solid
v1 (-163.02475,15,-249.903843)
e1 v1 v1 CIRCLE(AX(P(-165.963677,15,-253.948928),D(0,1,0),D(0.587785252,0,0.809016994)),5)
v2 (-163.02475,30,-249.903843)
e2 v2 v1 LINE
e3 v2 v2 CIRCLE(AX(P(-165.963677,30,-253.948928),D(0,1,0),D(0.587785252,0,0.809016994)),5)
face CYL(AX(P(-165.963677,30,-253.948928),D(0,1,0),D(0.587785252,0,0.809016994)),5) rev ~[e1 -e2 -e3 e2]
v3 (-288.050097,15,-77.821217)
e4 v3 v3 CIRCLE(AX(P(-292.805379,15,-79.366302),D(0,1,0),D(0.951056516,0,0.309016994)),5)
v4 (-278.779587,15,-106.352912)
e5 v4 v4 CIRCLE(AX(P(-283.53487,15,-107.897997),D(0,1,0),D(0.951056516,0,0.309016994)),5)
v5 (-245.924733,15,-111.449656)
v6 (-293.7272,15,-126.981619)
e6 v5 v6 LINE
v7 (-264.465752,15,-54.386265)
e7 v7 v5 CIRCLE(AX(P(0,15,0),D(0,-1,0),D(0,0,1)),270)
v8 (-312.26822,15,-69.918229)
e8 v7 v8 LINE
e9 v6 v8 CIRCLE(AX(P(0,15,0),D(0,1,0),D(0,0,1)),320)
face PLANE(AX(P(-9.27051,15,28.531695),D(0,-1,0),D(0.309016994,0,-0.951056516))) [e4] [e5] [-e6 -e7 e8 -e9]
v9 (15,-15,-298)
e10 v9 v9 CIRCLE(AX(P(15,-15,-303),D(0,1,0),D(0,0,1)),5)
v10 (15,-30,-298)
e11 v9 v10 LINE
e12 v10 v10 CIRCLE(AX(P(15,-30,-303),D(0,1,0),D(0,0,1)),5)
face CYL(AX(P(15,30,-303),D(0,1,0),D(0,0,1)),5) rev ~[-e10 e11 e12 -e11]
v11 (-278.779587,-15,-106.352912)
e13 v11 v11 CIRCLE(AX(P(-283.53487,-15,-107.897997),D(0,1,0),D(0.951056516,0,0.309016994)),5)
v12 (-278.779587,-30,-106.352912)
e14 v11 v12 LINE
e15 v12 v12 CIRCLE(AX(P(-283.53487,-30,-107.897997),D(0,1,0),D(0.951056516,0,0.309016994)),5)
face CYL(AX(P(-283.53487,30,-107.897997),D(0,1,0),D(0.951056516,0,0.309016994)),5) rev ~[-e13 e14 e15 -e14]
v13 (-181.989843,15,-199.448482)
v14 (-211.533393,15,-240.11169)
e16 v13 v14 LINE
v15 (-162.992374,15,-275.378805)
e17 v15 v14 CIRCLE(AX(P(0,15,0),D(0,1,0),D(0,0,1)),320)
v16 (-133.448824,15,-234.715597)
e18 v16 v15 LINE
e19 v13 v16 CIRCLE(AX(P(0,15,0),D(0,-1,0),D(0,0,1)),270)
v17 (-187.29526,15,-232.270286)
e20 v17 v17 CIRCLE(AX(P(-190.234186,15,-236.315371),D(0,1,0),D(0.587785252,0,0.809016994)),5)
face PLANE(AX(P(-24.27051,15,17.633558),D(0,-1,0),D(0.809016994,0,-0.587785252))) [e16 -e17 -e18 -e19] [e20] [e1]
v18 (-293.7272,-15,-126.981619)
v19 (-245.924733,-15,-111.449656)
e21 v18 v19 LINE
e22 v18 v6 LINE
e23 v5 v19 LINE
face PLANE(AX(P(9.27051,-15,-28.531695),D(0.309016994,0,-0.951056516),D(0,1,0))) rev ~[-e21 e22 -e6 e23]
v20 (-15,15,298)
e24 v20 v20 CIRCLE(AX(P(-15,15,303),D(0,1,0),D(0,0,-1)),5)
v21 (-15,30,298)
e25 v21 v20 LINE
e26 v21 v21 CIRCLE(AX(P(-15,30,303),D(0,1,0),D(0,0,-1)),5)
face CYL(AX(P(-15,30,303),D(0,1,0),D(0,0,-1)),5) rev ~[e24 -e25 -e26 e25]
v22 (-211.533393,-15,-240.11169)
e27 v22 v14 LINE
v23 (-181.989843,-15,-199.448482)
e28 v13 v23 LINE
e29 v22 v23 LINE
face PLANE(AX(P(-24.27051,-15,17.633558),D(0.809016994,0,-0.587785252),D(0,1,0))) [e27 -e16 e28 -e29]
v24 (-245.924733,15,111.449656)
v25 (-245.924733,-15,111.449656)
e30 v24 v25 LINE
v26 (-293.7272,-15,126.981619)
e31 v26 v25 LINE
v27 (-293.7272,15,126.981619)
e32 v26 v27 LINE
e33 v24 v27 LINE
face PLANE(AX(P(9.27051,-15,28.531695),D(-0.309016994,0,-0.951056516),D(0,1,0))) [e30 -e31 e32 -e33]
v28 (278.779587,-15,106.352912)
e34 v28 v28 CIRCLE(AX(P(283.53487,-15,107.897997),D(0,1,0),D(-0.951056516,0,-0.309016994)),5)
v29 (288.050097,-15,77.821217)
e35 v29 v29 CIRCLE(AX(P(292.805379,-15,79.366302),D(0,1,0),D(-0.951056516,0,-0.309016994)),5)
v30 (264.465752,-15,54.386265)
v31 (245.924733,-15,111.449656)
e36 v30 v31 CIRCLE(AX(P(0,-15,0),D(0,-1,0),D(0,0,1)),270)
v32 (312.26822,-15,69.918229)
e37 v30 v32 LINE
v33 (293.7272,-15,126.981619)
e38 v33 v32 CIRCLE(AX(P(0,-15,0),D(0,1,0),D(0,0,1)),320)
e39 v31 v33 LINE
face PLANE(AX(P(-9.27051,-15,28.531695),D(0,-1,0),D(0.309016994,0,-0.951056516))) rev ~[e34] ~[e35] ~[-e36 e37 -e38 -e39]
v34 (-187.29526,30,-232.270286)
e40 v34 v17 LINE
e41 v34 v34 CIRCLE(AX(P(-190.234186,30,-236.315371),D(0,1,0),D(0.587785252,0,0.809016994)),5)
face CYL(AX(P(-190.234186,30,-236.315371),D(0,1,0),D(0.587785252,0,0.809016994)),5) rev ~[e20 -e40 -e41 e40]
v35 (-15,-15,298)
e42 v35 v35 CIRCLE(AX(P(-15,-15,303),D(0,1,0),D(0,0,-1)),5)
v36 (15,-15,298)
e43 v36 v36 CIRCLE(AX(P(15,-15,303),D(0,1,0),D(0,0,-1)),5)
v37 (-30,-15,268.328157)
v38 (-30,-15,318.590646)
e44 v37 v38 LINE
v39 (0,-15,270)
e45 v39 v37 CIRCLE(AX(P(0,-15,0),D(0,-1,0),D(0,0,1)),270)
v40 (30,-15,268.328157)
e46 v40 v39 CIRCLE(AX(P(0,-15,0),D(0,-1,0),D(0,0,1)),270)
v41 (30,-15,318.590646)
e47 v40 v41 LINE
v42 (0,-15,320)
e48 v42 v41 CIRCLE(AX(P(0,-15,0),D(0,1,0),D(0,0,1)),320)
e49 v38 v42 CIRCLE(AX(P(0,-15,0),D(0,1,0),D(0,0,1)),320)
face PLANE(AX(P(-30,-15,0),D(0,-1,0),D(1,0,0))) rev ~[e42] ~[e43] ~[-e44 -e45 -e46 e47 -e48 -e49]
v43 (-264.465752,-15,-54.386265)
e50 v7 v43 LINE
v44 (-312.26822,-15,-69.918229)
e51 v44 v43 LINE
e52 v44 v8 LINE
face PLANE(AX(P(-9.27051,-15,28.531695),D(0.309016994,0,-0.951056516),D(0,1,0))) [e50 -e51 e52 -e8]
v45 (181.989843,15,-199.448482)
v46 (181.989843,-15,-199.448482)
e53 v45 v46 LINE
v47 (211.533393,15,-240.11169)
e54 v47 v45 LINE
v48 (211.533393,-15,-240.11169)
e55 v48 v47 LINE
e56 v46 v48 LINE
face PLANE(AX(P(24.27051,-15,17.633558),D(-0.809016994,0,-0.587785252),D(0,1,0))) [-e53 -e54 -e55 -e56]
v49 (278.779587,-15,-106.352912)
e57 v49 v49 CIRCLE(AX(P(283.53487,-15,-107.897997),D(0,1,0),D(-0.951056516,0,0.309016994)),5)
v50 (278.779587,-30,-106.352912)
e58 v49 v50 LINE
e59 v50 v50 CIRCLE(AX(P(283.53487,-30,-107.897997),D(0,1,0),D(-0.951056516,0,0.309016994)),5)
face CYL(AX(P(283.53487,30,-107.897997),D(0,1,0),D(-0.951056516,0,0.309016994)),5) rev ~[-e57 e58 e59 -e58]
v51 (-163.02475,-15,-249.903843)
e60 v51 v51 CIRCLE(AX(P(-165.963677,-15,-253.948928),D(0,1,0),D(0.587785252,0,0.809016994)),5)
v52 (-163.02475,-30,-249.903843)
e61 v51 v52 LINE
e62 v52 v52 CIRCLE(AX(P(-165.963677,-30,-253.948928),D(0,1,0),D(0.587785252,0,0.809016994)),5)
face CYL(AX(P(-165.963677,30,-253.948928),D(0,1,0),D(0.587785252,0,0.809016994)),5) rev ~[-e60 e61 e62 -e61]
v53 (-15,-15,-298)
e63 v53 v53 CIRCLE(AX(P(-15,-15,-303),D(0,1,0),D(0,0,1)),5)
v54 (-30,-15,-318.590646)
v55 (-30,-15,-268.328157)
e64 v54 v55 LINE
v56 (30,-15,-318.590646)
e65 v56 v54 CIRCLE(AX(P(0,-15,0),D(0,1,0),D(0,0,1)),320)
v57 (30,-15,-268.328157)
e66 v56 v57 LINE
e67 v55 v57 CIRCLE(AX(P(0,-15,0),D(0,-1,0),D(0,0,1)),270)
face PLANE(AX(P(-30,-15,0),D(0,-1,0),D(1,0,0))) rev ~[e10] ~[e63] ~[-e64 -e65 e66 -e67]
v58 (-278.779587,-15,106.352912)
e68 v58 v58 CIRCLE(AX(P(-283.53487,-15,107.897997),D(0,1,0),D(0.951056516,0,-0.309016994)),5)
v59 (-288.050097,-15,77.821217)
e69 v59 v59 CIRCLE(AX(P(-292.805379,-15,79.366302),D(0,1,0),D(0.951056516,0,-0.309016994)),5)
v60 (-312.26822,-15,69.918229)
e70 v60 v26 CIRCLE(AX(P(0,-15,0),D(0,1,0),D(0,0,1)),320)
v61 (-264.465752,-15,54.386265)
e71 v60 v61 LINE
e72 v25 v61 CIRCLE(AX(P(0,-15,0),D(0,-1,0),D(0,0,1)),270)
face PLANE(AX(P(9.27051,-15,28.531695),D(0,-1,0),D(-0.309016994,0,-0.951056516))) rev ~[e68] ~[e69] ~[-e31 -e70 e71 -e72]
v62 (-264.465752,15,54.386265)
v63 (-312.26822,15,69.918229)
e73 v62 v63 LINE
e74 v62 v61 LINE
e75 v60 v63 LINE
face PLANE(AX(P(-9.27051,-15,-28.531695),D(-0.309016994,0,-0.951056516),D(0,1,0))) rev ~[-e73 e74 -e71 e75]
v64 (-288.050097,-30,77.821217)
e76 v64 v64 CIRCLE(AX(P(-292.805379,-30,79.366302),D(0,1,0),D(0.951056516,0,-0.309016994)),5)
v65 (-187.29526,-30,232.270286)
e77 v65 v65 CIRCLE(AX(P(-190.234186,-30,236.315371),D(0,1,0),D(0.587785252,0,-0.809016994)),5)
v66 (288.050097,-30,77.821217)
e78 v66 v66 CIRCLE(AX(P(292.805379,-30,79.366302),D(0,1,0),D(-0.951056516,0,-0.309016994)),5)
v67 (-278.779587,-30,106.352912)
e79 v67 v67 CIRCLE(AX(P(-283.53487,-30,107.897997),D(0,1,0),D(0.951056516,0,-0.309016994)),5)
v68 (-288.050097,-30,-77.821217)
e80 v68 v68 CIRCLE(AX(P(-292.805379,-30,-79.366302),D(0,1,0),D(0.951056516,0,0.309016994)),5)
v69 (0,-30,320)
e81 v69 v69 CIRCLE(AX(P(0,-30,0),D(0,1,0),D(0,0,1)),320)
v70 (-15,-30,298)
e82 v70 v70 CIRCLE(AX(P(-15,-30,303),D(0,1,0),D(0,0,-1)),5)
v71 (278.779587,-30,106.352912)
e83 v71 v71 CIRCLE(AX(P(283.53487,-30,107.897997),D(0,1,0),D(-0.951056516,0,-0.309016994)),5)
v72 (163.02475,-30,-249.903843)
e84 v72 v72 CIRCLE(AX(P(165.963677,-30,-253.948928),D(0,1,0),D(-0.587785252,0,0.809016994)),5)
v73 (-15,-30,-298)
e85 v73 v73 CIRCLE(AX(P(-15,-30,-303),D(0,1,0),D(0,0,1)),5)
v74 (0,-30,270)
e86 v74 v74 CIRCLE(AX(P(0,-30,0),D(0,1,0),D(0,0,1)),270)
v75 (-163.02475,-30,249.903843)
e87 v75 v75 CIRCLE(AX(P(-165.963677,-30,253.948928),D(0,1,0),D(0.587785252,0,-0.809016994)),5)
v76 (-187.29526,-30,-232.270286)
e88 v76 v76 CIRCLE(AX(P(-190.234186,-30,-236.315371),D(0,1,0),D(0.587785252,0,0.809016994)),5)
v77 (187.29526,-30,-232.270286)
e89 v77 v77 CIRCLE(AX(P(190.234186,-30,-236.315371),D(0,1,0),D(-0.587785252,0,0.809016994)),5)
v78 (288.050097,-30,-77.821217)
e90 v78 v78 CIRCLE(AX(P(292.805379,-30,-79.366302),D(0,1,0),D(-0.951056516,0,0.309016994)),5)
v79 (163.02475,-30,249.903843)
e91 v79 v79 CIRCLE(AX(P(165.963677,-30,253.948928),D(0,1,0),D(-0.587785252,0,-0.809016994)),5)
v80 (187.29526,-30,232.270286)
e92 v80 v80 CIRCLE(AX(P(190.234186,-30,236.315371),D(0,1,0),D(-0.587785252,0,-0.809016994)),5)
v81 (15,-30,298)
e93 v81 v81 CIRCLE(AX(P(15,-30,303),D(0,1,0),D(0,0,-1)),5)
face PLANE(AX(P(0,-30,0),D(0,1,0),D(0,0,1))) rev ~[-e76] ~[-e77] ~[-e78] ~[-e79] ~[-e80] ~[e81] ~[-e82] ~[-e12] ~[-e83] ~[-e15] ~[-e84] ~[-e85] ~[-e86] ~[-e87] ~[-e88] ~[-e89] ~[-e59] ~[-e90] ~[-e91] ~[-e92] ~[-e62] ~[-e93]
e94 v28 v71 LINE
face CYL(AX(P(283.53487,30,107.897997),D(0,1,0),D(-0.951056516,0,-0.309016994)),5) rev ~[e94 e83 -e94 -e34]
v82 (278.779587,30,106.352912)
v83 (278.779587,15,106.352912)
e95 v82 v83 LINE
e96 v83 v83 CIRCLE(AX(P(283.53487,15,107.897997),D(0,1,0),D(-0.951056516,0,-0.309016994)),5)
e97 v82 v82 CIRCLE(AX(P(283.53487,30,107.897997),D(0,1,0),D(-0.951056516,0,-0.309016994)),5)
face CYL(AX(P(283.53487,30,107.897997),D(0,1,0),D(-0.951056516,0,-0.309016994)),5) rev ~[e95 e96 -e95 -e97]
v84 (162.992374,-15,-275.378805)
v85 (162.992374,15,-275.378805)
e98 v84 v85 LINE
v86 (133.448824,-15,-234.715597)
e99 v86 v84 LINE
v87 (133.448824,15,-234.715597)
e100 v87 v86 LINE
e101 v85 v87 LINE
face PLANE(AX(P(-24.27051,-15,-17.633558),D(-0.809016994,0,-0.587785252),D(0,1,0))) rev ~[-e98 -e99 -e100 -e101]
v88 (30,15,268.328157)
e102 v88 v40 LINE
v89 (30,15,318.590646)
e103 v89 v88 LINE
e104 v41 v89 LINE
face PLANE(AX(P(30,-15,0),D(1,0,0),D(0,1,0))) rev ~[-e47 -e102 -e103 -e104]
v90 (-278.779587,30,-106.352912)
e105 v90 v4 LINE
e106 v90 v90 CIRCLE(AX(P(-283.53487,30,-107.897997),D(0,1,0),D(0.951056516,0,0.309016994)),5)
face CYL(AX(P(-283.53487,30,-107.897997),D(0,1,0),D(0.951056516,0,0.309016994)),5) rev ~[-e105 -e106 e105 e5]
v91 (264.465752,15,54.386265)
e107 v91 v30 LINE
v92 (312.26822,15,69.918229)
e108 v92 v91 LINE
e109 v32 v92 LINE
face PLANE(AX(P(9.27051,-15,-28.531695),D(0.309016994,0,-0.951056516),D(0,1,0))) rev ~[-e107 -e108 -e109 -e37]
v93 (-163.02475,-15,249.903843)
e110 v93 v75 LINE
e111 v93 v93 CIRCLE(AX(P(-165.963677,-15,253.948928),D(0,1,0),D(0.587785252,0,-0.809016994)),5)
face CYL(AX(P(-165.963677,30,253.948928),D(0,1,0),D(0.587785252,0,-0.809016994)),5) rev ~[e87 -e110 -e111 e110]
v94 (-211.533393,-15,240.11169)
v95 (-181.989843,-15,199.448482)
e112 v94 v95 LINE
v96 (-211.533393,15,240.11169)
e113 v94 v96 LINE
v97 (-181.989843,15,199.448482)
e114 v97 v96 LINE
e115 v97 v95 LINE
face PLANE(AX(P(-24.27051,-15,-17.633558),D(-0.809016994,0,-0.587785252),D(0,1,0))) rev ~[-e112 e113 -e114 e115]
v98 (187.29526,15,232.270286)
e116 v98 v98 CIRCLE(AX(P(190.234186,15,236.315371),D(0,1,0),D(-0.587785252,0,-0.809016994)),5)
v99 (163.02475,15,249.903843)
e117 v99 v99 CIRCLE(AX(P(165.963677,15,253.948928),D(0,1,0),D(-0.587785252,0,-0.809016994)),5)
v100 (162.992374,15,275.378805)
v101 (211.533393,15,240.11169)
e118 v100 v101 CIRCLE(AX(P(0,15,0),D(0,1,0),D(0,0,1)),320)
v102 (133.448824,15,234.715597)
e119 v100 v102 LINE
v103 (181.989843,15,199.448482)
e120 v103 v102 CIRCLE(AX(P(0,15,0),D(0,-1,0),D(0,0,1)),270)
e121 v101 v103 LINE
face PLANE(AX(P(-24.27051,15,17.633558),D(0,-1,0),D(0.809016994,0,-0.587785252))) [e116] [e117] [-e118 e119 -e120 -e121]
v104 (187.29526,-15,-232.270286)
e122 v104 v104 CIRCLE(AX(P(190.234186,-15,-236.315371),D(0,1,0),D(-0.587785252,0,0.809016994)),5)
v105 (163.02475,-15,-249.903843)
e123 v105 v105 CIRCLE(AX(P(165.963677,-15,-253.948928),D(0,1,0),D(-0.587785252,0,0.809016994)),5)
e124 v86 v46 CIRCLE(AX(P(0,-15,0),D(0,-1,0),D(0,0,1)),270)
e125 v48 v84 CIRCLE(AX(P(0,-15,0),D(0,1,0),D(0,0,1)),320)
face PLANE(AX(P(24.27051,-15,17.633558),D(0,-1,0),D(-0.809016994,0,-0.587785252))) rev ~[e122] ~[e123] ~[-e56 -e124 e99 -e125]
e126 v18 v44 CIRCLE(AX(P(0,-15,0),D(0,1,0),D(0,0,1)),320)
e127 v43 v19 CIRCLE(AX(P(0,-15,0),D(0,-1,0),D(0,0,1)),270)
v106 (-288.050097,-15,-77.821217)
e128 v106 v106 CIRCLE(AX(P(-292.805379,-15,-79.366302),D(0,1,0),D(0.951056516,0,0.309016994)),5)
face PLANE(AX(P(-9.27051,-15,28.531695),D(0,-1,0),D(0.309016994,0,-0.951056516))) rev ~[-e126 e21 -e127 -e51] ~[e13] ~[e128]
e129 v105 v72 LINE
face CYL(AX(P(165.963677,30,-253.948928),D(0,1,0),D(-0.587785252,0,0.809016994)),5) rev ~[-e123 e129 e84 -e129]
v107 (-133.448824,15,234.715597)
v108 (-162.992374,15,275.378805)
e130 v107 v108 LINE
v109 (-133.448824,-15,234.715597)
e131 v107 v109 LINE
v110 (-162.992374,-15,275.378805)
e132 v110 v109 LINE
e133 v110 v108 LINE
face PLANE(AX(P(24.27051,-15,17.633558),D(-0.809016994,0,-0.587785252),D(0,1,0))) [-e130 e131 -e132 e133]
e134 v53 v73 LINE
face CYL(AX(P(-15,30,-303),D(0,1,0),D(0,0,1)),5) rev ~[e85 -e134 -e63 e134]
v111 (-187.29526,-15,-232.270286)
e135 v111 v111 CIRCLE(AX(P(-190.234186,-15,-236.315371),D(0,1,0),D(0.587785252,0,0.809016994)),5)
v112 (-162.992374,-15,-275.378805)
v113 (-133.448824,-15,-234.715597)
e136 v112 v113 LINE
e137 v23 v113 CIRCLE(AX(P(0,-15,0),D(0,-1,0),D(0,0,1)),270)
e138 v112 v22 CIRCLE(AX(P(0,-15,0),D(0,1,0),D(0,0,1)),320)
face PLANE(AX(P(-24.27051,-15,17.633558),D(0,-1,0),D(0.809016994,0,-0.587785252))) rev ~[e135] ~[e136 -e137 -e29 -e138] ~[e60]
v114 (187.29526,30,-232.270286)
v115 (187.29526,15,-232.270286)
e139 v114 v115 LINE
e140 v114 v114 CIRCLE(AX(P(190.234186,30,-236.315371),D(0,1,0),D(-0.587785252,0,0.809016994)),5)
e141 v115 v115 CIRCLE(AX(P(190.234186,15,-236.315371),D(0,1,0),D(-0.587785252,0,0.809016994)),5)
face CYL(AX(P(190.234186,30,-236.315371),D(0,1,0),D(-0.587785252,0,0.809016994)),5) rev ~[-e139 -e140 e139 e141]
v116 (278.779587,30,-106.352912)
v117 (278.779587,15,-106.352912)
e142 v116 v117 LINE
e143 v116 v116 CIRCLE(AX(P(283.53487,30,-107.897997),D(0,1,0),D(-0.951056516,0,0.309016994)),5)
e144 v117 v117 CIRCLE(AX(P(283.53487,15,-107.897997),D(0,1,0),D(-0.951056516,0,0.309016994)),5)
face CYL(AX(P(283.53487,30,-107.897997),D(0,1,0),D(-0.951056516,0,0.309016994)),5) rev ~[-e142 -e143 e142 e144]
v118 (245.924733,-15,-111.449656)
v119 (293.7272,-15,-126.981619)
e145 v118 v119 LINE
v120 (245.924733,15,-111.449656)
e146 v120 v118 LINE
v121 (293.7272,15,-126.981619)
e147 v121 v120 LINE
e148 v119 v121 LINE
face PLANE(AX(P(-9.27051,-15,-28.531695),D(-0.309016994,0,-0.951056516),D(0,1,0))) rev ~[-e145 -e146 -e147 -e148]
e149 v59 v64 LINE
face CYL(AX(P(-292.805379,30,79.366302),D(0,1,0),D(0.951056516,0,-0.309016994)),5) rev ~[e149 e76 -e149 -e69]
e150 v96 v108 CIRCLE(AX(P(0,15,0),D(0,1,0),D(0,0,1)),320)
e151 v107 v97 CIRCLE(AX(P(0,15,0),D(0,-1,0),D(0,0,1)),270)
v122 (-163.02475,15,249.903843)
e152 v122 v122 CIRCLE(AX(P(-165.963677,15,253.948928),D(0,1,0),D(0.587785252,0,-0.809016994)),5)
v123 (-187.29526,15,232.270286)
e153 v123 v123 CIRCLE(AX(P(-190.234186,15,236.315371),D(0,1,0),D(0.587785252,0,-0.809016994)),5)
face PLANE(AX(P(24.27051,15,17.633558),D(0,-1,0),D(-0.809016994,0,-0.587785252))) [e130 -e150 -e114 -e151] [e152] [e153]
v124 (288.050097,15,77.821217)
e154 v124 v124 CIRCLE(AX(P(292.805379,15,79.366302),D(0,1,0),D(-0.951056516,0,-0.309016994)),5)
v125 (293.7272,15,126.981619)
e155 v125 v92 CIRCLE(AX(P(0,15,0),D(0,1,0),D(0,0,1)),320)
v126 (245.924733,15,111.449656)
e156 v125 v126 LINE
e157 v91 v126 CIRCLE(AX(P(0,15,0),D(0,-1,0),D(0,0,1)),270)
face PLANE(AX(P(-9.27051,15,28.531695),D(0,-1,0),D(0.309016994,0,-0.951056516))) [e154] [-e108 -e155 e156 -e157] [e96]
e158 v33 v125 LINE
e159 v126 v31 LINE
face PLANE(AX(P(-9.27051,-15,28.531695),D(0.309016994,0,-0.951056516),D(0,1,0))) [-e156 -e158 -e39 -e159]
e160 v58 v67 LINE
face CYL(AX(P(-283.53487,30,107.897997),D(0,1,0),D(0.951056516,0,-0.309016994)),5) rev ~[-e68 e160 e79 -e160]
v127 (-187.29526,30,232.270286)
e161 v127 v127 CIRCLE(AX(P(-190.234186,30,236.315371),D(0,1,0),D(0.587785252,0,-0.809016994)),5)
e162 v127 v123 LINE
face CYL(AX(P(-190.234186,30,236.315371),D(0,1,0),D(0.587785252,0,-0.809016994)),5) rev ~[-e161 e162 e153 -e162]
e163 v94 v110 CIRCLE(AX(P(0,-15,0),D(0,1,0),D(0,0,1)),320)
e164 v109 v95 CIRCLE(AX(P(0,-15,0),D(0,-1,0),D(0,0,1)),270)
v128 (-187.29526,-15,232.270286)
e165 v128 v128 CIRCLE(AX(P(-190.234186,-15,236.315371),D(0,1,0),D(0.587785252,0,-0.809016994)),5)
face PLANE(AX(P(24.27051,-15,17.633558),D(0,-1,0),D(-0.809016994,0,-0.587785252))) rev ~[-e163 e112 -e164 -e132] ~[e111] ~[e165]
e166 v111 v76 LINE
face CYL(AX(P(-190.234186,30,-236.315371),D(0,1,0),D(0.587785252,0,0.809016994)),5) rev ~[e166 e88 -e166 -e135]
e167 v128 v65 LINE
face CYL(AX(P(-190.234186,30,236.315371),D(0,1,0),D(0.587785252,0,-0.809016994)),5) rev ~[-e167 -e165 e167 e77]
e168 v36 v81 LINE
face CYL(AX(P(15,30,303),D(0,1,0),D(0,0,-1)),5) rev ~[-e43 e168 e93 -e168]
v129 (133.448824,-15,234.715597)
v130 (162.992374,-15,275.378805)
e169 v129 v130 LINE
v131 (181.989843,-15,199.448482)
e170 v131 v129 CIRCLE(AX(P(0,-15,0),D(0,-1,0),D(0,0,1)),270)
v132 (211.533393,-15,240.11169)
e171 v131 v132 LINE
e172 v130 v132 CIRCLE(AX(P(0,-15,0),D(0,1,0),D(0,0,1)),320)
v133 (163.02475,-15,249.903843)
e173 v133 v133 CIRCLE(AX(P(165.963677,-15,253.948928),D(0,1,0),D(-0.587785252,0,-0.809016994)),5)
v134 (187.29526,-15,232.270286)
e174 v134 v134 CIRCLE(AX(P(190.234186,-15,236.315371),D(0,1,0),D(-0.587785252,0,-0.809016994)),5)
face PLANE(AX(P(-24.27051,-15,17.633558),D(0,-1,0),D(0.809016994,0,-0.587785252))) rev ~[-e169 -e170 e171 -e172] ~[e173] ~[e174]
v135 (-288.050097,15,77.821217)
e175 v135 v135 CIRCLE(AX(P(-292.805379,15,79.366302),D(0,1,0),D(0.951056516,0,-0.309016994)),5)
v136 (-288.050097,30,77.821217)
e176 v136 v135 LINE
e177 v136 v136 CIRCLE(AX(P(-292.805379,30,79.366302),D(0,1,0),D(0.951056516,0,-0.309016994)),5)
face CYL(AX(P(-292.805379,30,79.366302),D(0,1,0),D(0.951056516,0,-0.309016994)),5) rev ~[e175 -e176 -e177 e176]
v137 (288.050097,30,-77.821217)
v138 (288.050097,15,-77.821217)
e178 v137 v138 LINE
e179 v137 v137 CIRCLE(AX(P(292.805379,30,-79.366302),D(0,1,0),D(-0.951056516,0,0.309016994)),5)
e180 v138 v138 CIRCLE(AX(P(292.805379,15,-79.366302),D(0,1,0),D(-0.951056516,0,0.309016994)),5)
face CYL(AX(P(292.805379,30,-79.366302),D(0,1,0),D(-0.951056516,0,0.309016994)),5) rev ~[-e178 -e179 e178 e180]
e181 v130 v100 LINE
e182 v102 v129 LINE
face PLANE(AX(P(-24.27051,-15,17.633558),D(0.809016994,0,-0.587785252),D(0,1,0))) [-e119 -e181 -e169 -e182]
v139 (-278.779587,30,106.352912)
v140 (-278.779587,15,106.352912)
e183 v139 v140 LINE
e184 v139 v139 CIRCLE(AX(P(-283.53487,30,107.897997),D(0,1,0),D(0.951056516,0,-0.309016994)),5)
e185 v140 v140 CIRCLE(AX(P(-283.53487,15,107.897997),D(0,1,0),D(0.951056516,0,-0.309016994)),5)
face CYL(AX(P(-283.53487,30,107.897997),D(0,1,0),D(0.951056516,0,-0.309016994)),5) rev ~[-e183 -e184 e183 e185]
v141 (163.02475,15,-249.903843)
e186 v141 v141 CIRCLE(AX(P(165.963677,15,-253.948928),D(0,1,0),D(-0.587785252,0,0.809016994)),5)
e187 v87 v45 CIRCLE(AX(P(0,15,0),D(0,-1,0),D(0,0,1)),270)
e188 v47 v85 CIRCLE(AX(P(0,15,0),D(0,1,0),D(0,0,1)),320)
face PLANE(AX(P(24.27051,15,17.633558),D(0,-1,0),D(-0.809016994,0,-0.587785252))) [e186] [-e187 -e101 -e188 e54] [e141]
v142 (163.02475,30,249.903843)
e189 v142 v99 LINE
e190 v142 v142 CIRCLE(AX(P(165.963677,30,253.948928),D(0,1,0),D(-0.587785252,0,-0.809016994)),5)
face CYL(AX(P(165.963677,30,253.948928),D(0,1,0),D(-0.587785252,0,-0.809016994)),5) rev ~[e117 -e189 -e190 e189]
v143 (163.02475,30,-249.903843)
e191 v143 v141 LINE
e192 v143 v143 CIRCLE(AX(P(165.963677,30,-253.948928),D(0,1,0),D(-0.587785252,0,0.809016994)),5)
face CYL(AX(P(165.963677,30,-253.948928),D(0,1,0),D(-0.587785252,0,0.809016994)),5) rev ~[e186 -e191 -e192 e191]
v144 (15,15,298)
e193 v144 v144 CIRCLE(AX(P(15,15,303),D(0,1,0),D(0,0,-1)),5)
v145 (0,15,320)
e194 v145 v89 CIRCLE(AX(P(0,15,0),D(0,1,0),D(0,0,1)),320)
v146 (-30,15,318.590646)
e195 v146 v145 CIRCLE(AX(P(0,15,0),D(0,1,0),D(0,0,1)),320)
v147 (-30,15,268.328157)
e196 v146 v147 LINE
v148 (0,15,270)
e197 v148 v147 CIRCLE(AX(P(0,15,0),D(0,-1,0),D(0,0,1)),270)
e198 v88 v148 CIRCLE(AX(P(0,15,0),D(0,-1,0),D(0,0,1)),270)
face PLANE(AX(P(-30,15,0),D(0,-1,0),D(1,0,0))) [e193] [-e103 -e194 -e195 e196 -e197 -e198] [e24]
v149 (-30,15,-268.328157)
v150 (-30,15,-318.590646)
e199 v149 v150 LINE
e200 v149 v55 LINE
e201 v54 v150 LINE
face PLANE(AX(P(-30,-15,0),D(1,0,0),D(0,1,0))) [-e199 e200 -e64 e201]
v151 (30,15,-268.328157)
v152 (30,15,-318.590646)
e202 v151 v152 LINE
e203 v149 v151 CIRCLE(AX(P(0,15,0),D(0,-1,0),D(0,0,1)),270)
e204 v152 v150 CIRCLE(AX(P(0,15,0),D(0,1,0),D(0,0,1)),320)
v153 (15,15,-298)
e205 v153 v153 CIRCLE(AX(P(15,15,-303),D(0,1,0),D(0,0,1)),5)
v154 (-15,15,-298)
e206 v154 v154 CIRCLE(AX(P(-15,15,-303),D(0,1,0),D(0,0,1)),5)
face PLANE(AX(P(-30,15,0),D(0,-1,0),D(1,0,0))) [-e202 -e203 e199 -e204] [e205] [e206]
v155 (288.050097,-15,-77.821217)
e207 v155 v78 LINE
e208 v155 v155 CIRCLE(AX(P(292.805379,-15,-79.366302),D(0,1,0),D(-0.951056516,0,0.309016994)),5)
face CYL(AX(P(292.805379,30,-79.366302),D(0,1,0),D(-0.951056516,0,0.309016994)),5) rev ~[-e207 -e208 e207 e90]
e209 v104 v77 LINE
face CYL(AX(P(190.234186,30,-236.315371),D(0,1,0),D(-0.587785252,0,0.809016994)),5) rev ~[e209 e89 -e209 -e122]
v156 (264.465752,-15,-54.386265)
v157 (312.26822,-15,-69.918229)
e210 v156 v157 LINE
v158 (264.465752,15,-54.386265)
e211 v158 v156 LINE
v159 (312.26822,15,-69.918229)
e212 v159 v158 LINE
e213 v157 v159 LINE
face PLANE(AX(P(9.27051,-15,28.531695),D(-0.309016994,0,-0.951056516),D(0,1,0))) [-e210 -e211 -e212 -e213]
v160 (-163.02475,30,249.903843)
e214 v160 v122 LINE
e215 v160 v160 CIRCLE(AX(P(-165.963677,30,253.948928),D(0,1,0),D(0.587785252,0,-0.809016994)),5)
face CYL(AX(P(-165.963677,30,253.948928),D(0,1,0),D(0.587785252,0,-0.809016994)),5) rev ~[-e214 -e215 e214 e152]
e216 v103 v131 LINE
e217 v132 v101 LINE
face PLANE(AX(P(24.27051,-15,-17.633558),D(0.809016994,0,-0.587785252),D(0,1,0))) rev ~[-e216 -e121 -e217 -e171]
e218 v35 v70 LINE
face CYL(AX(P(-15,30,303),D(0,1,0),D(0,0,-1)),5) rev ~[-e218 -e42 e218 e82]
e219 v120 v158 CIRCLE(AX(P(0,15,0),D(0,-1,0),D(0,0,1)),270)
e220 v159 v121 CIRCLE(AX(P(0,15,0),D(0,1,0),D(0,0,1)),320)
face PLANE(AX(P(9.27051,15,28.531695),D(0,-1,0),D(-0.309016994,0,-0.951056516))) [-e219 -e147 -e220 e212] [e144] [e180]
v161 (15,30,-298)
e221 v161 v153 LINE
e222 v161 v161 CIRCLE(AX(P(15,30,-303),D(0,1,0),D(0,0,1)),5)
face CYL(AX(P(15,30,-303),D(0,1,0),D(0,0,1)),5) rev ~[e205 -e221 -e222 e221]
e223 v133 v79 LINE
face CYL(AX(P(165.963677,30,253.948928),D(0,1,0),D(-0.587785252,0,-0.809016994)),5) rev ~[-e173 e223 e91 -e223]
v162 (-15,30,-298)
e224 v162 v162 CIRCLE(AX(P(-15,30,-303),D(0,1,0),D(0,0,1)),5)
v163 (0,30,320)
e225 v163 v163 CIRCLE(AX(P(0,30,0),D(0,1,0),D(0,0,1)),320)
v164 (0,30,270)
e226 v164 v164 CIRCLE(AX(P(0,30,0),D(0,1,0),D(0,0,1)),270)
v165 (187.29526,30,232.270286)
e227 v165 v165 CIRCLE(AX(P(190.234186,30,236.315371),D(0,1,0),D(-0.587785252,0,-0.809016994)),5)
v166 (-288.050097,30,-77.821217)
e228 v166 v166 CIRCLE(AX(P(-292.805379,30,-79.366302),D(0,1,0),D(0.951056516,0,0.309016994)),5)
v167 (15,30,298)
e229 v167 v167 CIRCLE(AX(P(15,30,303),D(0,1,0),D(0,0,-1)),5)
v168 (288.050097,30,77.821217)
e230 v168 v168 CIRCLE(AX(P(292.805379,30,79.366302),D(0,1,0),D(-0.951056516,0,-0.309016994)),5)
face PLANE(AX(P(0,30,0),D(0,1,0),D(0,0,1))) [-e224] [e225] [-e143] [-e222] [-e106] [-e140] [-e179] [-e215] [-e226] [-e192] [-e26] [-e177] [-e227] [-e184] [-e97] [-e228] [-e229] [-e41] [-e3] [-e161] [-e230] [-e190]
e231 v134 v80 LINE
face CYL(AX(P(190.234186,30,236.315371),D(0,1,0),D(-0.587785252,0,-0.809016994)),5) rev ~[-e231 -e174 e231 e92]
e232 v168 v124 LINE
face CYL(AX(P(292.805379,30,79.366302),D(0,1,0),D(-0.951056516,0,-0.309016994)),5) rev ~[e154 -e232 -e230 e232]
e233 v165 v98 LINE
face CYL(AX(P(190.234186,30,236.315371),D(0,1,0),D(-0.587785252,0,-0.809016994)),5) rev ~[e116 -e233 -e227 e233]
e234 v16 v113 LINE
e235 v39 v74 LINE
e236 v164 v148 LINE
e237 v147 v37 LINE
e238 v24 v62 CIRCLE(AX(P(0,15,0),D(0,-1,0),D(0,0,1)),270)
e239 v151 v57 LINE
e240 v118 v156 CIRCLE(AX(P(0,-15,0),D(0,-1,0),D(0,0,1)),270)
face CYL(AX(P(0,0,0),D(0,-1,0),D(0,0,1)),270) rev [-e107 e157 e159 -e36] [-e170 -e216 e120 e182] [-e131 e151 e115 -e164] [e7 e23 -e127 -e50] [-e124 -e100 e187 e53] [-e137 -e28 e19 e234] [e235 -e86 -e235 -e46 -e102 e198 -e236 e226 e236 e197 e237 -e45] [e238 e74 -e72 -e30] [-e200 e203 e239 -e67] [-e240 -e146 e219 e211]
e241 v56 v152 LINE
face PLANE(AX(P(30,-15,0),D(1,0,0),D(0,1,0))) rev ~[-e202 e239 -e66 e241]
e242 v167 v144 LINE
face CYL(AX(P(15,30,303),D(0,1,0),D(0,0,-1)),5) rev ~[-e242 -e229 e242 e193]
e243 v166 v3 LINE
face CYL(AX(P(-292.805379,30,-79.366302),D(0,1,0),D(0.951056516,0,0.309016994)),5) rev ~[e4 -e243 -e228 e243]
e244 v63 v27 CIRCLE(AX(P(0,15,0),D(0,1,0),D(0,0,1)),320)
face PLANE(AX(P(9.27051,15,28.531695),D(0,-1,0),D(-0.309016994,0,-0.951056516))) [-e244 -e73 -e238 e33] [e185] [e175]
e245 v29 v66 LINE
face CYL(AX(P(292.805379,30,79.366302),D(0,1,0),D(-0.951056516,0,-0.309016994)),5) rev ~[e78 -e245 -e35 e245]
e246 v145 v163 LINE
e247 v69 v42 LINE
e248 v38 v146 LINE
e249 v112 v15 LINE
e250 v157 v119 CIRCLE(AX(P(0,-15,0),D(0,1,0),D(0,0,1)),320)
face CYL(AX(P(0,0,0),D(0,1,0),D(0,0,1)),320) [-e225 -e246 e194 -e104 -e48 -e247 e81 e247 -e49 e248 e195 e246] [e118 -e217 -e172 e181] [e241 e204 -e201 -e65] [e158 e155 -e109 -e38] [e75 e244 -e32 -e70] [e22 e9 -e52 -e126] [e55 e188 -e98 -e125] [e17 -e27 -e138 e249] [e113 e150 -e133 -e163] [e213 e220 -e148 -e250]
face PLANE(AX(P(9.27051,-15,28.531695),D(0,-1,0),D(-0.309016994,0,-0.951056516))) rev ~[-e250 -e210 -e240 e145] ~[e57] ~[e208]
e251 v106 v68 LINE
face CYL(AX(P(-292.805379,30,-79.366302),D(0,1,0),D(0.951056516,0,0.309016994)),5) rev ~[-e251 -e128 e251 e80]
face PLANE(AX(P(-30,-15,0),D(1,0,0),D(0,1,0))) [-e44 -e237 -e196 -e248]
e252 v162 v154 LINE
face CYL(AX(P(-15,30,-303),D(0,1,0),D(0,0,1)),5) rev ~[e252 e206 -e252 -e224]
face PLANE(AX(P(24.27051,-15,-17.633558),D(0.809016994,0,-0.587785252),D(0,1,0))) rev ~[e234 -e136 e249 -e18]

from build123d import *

# Parameters (mm, degrees)
SKETCH1_R           = 320
SKETCH1_R_2         = 270
BOSS_EXTRUDE1_DEPTH = 30
SKETCH2_W           = 60
SKETCH2_H           = 30
CUT_EXTRUDE1_DEPTH  = 454.541618818
CIRPATTERN1_COUNT   = 10
SKETCH3_R           = 5
CUT_EXTRUDE2_DEPTH  = 457.508488421
CIRPATTERN2_COUNT   = 10


with BuildPart() as part:
    # Sketch1 → Boss-Extrude1 (new, symmetric)
    with BuildSketch(Plane(origin=(0, 0, 0), x_dir=(1, 0, 0), z_dir=(0, 1, 0))):
        with Locations(Location((0, 0, 0), (0, 0, 270))):
            Circle(SKETCH1_R)
        with Locations(Location((0, 0, 0), (0, 0, 270))):
            Circle(SKETCH1_R_2, mode=Mode.SUBTRACT)
    extrude(amount=BOSS_EXTRUDE1_DEPTH, both=True)

    # Sketch2 → Cut-Extrude1 (cut, symmetric)
    with BuildSketch(Plane.XY):
        Rectangle(SKETCH2_W, SKETCH2_H)
    cut_extrude1 = extrude(amount=CUT_EXTRUDE1_DEPTH, both=True, mode=Mode.SUBTRACT)

    # CirPattern1: Cut-Extrude1 ×10 about axis
    cirpattern1_axis = Axis((0, 0, 0), (0, 1, 0))
    for i in range(1, CIRPATTERN1_COUNT):
        add(cut_extrude1.rotate(cirpattern1_axis, i * 360 / CIRPATTERN1_COUNT), mode=Mode.SUBTRACT)

    # Sketch3 → Cut-Extrude2 (cut, through all)
    with BuildSketch(Plane(origin=(0, 30, 0), x_dir=(1, 0, 0), z_dir=(0, 1, 0))):
        with Locations(Location((-15, 303, 0), (0, 0, 270))):
            Circle(SKETCH3_R)
        with Locations(Location((15, 303, 0), (0, 0, 270))):
            Circle(SKETCH3_R)
    cut_extrude2 = extrude(amount=-CUT_EXTRUDE2_DEPTH, mode=Mode.SUBTRACT)

    # CirPattern2: Cut-Extrude2 ×10 about axis
    cirpattern2_axis = Axis((0, 0, 0), (0, 1, 0))
    for i in range(1, CIRPATTERN2_COUNT):
        add(cut_extrude2.rotate(cirpattern2_axis, i * 360 / CIRPATTERN2_COUNT), mode=Mode.SUBTRACT)


solid = part.part
